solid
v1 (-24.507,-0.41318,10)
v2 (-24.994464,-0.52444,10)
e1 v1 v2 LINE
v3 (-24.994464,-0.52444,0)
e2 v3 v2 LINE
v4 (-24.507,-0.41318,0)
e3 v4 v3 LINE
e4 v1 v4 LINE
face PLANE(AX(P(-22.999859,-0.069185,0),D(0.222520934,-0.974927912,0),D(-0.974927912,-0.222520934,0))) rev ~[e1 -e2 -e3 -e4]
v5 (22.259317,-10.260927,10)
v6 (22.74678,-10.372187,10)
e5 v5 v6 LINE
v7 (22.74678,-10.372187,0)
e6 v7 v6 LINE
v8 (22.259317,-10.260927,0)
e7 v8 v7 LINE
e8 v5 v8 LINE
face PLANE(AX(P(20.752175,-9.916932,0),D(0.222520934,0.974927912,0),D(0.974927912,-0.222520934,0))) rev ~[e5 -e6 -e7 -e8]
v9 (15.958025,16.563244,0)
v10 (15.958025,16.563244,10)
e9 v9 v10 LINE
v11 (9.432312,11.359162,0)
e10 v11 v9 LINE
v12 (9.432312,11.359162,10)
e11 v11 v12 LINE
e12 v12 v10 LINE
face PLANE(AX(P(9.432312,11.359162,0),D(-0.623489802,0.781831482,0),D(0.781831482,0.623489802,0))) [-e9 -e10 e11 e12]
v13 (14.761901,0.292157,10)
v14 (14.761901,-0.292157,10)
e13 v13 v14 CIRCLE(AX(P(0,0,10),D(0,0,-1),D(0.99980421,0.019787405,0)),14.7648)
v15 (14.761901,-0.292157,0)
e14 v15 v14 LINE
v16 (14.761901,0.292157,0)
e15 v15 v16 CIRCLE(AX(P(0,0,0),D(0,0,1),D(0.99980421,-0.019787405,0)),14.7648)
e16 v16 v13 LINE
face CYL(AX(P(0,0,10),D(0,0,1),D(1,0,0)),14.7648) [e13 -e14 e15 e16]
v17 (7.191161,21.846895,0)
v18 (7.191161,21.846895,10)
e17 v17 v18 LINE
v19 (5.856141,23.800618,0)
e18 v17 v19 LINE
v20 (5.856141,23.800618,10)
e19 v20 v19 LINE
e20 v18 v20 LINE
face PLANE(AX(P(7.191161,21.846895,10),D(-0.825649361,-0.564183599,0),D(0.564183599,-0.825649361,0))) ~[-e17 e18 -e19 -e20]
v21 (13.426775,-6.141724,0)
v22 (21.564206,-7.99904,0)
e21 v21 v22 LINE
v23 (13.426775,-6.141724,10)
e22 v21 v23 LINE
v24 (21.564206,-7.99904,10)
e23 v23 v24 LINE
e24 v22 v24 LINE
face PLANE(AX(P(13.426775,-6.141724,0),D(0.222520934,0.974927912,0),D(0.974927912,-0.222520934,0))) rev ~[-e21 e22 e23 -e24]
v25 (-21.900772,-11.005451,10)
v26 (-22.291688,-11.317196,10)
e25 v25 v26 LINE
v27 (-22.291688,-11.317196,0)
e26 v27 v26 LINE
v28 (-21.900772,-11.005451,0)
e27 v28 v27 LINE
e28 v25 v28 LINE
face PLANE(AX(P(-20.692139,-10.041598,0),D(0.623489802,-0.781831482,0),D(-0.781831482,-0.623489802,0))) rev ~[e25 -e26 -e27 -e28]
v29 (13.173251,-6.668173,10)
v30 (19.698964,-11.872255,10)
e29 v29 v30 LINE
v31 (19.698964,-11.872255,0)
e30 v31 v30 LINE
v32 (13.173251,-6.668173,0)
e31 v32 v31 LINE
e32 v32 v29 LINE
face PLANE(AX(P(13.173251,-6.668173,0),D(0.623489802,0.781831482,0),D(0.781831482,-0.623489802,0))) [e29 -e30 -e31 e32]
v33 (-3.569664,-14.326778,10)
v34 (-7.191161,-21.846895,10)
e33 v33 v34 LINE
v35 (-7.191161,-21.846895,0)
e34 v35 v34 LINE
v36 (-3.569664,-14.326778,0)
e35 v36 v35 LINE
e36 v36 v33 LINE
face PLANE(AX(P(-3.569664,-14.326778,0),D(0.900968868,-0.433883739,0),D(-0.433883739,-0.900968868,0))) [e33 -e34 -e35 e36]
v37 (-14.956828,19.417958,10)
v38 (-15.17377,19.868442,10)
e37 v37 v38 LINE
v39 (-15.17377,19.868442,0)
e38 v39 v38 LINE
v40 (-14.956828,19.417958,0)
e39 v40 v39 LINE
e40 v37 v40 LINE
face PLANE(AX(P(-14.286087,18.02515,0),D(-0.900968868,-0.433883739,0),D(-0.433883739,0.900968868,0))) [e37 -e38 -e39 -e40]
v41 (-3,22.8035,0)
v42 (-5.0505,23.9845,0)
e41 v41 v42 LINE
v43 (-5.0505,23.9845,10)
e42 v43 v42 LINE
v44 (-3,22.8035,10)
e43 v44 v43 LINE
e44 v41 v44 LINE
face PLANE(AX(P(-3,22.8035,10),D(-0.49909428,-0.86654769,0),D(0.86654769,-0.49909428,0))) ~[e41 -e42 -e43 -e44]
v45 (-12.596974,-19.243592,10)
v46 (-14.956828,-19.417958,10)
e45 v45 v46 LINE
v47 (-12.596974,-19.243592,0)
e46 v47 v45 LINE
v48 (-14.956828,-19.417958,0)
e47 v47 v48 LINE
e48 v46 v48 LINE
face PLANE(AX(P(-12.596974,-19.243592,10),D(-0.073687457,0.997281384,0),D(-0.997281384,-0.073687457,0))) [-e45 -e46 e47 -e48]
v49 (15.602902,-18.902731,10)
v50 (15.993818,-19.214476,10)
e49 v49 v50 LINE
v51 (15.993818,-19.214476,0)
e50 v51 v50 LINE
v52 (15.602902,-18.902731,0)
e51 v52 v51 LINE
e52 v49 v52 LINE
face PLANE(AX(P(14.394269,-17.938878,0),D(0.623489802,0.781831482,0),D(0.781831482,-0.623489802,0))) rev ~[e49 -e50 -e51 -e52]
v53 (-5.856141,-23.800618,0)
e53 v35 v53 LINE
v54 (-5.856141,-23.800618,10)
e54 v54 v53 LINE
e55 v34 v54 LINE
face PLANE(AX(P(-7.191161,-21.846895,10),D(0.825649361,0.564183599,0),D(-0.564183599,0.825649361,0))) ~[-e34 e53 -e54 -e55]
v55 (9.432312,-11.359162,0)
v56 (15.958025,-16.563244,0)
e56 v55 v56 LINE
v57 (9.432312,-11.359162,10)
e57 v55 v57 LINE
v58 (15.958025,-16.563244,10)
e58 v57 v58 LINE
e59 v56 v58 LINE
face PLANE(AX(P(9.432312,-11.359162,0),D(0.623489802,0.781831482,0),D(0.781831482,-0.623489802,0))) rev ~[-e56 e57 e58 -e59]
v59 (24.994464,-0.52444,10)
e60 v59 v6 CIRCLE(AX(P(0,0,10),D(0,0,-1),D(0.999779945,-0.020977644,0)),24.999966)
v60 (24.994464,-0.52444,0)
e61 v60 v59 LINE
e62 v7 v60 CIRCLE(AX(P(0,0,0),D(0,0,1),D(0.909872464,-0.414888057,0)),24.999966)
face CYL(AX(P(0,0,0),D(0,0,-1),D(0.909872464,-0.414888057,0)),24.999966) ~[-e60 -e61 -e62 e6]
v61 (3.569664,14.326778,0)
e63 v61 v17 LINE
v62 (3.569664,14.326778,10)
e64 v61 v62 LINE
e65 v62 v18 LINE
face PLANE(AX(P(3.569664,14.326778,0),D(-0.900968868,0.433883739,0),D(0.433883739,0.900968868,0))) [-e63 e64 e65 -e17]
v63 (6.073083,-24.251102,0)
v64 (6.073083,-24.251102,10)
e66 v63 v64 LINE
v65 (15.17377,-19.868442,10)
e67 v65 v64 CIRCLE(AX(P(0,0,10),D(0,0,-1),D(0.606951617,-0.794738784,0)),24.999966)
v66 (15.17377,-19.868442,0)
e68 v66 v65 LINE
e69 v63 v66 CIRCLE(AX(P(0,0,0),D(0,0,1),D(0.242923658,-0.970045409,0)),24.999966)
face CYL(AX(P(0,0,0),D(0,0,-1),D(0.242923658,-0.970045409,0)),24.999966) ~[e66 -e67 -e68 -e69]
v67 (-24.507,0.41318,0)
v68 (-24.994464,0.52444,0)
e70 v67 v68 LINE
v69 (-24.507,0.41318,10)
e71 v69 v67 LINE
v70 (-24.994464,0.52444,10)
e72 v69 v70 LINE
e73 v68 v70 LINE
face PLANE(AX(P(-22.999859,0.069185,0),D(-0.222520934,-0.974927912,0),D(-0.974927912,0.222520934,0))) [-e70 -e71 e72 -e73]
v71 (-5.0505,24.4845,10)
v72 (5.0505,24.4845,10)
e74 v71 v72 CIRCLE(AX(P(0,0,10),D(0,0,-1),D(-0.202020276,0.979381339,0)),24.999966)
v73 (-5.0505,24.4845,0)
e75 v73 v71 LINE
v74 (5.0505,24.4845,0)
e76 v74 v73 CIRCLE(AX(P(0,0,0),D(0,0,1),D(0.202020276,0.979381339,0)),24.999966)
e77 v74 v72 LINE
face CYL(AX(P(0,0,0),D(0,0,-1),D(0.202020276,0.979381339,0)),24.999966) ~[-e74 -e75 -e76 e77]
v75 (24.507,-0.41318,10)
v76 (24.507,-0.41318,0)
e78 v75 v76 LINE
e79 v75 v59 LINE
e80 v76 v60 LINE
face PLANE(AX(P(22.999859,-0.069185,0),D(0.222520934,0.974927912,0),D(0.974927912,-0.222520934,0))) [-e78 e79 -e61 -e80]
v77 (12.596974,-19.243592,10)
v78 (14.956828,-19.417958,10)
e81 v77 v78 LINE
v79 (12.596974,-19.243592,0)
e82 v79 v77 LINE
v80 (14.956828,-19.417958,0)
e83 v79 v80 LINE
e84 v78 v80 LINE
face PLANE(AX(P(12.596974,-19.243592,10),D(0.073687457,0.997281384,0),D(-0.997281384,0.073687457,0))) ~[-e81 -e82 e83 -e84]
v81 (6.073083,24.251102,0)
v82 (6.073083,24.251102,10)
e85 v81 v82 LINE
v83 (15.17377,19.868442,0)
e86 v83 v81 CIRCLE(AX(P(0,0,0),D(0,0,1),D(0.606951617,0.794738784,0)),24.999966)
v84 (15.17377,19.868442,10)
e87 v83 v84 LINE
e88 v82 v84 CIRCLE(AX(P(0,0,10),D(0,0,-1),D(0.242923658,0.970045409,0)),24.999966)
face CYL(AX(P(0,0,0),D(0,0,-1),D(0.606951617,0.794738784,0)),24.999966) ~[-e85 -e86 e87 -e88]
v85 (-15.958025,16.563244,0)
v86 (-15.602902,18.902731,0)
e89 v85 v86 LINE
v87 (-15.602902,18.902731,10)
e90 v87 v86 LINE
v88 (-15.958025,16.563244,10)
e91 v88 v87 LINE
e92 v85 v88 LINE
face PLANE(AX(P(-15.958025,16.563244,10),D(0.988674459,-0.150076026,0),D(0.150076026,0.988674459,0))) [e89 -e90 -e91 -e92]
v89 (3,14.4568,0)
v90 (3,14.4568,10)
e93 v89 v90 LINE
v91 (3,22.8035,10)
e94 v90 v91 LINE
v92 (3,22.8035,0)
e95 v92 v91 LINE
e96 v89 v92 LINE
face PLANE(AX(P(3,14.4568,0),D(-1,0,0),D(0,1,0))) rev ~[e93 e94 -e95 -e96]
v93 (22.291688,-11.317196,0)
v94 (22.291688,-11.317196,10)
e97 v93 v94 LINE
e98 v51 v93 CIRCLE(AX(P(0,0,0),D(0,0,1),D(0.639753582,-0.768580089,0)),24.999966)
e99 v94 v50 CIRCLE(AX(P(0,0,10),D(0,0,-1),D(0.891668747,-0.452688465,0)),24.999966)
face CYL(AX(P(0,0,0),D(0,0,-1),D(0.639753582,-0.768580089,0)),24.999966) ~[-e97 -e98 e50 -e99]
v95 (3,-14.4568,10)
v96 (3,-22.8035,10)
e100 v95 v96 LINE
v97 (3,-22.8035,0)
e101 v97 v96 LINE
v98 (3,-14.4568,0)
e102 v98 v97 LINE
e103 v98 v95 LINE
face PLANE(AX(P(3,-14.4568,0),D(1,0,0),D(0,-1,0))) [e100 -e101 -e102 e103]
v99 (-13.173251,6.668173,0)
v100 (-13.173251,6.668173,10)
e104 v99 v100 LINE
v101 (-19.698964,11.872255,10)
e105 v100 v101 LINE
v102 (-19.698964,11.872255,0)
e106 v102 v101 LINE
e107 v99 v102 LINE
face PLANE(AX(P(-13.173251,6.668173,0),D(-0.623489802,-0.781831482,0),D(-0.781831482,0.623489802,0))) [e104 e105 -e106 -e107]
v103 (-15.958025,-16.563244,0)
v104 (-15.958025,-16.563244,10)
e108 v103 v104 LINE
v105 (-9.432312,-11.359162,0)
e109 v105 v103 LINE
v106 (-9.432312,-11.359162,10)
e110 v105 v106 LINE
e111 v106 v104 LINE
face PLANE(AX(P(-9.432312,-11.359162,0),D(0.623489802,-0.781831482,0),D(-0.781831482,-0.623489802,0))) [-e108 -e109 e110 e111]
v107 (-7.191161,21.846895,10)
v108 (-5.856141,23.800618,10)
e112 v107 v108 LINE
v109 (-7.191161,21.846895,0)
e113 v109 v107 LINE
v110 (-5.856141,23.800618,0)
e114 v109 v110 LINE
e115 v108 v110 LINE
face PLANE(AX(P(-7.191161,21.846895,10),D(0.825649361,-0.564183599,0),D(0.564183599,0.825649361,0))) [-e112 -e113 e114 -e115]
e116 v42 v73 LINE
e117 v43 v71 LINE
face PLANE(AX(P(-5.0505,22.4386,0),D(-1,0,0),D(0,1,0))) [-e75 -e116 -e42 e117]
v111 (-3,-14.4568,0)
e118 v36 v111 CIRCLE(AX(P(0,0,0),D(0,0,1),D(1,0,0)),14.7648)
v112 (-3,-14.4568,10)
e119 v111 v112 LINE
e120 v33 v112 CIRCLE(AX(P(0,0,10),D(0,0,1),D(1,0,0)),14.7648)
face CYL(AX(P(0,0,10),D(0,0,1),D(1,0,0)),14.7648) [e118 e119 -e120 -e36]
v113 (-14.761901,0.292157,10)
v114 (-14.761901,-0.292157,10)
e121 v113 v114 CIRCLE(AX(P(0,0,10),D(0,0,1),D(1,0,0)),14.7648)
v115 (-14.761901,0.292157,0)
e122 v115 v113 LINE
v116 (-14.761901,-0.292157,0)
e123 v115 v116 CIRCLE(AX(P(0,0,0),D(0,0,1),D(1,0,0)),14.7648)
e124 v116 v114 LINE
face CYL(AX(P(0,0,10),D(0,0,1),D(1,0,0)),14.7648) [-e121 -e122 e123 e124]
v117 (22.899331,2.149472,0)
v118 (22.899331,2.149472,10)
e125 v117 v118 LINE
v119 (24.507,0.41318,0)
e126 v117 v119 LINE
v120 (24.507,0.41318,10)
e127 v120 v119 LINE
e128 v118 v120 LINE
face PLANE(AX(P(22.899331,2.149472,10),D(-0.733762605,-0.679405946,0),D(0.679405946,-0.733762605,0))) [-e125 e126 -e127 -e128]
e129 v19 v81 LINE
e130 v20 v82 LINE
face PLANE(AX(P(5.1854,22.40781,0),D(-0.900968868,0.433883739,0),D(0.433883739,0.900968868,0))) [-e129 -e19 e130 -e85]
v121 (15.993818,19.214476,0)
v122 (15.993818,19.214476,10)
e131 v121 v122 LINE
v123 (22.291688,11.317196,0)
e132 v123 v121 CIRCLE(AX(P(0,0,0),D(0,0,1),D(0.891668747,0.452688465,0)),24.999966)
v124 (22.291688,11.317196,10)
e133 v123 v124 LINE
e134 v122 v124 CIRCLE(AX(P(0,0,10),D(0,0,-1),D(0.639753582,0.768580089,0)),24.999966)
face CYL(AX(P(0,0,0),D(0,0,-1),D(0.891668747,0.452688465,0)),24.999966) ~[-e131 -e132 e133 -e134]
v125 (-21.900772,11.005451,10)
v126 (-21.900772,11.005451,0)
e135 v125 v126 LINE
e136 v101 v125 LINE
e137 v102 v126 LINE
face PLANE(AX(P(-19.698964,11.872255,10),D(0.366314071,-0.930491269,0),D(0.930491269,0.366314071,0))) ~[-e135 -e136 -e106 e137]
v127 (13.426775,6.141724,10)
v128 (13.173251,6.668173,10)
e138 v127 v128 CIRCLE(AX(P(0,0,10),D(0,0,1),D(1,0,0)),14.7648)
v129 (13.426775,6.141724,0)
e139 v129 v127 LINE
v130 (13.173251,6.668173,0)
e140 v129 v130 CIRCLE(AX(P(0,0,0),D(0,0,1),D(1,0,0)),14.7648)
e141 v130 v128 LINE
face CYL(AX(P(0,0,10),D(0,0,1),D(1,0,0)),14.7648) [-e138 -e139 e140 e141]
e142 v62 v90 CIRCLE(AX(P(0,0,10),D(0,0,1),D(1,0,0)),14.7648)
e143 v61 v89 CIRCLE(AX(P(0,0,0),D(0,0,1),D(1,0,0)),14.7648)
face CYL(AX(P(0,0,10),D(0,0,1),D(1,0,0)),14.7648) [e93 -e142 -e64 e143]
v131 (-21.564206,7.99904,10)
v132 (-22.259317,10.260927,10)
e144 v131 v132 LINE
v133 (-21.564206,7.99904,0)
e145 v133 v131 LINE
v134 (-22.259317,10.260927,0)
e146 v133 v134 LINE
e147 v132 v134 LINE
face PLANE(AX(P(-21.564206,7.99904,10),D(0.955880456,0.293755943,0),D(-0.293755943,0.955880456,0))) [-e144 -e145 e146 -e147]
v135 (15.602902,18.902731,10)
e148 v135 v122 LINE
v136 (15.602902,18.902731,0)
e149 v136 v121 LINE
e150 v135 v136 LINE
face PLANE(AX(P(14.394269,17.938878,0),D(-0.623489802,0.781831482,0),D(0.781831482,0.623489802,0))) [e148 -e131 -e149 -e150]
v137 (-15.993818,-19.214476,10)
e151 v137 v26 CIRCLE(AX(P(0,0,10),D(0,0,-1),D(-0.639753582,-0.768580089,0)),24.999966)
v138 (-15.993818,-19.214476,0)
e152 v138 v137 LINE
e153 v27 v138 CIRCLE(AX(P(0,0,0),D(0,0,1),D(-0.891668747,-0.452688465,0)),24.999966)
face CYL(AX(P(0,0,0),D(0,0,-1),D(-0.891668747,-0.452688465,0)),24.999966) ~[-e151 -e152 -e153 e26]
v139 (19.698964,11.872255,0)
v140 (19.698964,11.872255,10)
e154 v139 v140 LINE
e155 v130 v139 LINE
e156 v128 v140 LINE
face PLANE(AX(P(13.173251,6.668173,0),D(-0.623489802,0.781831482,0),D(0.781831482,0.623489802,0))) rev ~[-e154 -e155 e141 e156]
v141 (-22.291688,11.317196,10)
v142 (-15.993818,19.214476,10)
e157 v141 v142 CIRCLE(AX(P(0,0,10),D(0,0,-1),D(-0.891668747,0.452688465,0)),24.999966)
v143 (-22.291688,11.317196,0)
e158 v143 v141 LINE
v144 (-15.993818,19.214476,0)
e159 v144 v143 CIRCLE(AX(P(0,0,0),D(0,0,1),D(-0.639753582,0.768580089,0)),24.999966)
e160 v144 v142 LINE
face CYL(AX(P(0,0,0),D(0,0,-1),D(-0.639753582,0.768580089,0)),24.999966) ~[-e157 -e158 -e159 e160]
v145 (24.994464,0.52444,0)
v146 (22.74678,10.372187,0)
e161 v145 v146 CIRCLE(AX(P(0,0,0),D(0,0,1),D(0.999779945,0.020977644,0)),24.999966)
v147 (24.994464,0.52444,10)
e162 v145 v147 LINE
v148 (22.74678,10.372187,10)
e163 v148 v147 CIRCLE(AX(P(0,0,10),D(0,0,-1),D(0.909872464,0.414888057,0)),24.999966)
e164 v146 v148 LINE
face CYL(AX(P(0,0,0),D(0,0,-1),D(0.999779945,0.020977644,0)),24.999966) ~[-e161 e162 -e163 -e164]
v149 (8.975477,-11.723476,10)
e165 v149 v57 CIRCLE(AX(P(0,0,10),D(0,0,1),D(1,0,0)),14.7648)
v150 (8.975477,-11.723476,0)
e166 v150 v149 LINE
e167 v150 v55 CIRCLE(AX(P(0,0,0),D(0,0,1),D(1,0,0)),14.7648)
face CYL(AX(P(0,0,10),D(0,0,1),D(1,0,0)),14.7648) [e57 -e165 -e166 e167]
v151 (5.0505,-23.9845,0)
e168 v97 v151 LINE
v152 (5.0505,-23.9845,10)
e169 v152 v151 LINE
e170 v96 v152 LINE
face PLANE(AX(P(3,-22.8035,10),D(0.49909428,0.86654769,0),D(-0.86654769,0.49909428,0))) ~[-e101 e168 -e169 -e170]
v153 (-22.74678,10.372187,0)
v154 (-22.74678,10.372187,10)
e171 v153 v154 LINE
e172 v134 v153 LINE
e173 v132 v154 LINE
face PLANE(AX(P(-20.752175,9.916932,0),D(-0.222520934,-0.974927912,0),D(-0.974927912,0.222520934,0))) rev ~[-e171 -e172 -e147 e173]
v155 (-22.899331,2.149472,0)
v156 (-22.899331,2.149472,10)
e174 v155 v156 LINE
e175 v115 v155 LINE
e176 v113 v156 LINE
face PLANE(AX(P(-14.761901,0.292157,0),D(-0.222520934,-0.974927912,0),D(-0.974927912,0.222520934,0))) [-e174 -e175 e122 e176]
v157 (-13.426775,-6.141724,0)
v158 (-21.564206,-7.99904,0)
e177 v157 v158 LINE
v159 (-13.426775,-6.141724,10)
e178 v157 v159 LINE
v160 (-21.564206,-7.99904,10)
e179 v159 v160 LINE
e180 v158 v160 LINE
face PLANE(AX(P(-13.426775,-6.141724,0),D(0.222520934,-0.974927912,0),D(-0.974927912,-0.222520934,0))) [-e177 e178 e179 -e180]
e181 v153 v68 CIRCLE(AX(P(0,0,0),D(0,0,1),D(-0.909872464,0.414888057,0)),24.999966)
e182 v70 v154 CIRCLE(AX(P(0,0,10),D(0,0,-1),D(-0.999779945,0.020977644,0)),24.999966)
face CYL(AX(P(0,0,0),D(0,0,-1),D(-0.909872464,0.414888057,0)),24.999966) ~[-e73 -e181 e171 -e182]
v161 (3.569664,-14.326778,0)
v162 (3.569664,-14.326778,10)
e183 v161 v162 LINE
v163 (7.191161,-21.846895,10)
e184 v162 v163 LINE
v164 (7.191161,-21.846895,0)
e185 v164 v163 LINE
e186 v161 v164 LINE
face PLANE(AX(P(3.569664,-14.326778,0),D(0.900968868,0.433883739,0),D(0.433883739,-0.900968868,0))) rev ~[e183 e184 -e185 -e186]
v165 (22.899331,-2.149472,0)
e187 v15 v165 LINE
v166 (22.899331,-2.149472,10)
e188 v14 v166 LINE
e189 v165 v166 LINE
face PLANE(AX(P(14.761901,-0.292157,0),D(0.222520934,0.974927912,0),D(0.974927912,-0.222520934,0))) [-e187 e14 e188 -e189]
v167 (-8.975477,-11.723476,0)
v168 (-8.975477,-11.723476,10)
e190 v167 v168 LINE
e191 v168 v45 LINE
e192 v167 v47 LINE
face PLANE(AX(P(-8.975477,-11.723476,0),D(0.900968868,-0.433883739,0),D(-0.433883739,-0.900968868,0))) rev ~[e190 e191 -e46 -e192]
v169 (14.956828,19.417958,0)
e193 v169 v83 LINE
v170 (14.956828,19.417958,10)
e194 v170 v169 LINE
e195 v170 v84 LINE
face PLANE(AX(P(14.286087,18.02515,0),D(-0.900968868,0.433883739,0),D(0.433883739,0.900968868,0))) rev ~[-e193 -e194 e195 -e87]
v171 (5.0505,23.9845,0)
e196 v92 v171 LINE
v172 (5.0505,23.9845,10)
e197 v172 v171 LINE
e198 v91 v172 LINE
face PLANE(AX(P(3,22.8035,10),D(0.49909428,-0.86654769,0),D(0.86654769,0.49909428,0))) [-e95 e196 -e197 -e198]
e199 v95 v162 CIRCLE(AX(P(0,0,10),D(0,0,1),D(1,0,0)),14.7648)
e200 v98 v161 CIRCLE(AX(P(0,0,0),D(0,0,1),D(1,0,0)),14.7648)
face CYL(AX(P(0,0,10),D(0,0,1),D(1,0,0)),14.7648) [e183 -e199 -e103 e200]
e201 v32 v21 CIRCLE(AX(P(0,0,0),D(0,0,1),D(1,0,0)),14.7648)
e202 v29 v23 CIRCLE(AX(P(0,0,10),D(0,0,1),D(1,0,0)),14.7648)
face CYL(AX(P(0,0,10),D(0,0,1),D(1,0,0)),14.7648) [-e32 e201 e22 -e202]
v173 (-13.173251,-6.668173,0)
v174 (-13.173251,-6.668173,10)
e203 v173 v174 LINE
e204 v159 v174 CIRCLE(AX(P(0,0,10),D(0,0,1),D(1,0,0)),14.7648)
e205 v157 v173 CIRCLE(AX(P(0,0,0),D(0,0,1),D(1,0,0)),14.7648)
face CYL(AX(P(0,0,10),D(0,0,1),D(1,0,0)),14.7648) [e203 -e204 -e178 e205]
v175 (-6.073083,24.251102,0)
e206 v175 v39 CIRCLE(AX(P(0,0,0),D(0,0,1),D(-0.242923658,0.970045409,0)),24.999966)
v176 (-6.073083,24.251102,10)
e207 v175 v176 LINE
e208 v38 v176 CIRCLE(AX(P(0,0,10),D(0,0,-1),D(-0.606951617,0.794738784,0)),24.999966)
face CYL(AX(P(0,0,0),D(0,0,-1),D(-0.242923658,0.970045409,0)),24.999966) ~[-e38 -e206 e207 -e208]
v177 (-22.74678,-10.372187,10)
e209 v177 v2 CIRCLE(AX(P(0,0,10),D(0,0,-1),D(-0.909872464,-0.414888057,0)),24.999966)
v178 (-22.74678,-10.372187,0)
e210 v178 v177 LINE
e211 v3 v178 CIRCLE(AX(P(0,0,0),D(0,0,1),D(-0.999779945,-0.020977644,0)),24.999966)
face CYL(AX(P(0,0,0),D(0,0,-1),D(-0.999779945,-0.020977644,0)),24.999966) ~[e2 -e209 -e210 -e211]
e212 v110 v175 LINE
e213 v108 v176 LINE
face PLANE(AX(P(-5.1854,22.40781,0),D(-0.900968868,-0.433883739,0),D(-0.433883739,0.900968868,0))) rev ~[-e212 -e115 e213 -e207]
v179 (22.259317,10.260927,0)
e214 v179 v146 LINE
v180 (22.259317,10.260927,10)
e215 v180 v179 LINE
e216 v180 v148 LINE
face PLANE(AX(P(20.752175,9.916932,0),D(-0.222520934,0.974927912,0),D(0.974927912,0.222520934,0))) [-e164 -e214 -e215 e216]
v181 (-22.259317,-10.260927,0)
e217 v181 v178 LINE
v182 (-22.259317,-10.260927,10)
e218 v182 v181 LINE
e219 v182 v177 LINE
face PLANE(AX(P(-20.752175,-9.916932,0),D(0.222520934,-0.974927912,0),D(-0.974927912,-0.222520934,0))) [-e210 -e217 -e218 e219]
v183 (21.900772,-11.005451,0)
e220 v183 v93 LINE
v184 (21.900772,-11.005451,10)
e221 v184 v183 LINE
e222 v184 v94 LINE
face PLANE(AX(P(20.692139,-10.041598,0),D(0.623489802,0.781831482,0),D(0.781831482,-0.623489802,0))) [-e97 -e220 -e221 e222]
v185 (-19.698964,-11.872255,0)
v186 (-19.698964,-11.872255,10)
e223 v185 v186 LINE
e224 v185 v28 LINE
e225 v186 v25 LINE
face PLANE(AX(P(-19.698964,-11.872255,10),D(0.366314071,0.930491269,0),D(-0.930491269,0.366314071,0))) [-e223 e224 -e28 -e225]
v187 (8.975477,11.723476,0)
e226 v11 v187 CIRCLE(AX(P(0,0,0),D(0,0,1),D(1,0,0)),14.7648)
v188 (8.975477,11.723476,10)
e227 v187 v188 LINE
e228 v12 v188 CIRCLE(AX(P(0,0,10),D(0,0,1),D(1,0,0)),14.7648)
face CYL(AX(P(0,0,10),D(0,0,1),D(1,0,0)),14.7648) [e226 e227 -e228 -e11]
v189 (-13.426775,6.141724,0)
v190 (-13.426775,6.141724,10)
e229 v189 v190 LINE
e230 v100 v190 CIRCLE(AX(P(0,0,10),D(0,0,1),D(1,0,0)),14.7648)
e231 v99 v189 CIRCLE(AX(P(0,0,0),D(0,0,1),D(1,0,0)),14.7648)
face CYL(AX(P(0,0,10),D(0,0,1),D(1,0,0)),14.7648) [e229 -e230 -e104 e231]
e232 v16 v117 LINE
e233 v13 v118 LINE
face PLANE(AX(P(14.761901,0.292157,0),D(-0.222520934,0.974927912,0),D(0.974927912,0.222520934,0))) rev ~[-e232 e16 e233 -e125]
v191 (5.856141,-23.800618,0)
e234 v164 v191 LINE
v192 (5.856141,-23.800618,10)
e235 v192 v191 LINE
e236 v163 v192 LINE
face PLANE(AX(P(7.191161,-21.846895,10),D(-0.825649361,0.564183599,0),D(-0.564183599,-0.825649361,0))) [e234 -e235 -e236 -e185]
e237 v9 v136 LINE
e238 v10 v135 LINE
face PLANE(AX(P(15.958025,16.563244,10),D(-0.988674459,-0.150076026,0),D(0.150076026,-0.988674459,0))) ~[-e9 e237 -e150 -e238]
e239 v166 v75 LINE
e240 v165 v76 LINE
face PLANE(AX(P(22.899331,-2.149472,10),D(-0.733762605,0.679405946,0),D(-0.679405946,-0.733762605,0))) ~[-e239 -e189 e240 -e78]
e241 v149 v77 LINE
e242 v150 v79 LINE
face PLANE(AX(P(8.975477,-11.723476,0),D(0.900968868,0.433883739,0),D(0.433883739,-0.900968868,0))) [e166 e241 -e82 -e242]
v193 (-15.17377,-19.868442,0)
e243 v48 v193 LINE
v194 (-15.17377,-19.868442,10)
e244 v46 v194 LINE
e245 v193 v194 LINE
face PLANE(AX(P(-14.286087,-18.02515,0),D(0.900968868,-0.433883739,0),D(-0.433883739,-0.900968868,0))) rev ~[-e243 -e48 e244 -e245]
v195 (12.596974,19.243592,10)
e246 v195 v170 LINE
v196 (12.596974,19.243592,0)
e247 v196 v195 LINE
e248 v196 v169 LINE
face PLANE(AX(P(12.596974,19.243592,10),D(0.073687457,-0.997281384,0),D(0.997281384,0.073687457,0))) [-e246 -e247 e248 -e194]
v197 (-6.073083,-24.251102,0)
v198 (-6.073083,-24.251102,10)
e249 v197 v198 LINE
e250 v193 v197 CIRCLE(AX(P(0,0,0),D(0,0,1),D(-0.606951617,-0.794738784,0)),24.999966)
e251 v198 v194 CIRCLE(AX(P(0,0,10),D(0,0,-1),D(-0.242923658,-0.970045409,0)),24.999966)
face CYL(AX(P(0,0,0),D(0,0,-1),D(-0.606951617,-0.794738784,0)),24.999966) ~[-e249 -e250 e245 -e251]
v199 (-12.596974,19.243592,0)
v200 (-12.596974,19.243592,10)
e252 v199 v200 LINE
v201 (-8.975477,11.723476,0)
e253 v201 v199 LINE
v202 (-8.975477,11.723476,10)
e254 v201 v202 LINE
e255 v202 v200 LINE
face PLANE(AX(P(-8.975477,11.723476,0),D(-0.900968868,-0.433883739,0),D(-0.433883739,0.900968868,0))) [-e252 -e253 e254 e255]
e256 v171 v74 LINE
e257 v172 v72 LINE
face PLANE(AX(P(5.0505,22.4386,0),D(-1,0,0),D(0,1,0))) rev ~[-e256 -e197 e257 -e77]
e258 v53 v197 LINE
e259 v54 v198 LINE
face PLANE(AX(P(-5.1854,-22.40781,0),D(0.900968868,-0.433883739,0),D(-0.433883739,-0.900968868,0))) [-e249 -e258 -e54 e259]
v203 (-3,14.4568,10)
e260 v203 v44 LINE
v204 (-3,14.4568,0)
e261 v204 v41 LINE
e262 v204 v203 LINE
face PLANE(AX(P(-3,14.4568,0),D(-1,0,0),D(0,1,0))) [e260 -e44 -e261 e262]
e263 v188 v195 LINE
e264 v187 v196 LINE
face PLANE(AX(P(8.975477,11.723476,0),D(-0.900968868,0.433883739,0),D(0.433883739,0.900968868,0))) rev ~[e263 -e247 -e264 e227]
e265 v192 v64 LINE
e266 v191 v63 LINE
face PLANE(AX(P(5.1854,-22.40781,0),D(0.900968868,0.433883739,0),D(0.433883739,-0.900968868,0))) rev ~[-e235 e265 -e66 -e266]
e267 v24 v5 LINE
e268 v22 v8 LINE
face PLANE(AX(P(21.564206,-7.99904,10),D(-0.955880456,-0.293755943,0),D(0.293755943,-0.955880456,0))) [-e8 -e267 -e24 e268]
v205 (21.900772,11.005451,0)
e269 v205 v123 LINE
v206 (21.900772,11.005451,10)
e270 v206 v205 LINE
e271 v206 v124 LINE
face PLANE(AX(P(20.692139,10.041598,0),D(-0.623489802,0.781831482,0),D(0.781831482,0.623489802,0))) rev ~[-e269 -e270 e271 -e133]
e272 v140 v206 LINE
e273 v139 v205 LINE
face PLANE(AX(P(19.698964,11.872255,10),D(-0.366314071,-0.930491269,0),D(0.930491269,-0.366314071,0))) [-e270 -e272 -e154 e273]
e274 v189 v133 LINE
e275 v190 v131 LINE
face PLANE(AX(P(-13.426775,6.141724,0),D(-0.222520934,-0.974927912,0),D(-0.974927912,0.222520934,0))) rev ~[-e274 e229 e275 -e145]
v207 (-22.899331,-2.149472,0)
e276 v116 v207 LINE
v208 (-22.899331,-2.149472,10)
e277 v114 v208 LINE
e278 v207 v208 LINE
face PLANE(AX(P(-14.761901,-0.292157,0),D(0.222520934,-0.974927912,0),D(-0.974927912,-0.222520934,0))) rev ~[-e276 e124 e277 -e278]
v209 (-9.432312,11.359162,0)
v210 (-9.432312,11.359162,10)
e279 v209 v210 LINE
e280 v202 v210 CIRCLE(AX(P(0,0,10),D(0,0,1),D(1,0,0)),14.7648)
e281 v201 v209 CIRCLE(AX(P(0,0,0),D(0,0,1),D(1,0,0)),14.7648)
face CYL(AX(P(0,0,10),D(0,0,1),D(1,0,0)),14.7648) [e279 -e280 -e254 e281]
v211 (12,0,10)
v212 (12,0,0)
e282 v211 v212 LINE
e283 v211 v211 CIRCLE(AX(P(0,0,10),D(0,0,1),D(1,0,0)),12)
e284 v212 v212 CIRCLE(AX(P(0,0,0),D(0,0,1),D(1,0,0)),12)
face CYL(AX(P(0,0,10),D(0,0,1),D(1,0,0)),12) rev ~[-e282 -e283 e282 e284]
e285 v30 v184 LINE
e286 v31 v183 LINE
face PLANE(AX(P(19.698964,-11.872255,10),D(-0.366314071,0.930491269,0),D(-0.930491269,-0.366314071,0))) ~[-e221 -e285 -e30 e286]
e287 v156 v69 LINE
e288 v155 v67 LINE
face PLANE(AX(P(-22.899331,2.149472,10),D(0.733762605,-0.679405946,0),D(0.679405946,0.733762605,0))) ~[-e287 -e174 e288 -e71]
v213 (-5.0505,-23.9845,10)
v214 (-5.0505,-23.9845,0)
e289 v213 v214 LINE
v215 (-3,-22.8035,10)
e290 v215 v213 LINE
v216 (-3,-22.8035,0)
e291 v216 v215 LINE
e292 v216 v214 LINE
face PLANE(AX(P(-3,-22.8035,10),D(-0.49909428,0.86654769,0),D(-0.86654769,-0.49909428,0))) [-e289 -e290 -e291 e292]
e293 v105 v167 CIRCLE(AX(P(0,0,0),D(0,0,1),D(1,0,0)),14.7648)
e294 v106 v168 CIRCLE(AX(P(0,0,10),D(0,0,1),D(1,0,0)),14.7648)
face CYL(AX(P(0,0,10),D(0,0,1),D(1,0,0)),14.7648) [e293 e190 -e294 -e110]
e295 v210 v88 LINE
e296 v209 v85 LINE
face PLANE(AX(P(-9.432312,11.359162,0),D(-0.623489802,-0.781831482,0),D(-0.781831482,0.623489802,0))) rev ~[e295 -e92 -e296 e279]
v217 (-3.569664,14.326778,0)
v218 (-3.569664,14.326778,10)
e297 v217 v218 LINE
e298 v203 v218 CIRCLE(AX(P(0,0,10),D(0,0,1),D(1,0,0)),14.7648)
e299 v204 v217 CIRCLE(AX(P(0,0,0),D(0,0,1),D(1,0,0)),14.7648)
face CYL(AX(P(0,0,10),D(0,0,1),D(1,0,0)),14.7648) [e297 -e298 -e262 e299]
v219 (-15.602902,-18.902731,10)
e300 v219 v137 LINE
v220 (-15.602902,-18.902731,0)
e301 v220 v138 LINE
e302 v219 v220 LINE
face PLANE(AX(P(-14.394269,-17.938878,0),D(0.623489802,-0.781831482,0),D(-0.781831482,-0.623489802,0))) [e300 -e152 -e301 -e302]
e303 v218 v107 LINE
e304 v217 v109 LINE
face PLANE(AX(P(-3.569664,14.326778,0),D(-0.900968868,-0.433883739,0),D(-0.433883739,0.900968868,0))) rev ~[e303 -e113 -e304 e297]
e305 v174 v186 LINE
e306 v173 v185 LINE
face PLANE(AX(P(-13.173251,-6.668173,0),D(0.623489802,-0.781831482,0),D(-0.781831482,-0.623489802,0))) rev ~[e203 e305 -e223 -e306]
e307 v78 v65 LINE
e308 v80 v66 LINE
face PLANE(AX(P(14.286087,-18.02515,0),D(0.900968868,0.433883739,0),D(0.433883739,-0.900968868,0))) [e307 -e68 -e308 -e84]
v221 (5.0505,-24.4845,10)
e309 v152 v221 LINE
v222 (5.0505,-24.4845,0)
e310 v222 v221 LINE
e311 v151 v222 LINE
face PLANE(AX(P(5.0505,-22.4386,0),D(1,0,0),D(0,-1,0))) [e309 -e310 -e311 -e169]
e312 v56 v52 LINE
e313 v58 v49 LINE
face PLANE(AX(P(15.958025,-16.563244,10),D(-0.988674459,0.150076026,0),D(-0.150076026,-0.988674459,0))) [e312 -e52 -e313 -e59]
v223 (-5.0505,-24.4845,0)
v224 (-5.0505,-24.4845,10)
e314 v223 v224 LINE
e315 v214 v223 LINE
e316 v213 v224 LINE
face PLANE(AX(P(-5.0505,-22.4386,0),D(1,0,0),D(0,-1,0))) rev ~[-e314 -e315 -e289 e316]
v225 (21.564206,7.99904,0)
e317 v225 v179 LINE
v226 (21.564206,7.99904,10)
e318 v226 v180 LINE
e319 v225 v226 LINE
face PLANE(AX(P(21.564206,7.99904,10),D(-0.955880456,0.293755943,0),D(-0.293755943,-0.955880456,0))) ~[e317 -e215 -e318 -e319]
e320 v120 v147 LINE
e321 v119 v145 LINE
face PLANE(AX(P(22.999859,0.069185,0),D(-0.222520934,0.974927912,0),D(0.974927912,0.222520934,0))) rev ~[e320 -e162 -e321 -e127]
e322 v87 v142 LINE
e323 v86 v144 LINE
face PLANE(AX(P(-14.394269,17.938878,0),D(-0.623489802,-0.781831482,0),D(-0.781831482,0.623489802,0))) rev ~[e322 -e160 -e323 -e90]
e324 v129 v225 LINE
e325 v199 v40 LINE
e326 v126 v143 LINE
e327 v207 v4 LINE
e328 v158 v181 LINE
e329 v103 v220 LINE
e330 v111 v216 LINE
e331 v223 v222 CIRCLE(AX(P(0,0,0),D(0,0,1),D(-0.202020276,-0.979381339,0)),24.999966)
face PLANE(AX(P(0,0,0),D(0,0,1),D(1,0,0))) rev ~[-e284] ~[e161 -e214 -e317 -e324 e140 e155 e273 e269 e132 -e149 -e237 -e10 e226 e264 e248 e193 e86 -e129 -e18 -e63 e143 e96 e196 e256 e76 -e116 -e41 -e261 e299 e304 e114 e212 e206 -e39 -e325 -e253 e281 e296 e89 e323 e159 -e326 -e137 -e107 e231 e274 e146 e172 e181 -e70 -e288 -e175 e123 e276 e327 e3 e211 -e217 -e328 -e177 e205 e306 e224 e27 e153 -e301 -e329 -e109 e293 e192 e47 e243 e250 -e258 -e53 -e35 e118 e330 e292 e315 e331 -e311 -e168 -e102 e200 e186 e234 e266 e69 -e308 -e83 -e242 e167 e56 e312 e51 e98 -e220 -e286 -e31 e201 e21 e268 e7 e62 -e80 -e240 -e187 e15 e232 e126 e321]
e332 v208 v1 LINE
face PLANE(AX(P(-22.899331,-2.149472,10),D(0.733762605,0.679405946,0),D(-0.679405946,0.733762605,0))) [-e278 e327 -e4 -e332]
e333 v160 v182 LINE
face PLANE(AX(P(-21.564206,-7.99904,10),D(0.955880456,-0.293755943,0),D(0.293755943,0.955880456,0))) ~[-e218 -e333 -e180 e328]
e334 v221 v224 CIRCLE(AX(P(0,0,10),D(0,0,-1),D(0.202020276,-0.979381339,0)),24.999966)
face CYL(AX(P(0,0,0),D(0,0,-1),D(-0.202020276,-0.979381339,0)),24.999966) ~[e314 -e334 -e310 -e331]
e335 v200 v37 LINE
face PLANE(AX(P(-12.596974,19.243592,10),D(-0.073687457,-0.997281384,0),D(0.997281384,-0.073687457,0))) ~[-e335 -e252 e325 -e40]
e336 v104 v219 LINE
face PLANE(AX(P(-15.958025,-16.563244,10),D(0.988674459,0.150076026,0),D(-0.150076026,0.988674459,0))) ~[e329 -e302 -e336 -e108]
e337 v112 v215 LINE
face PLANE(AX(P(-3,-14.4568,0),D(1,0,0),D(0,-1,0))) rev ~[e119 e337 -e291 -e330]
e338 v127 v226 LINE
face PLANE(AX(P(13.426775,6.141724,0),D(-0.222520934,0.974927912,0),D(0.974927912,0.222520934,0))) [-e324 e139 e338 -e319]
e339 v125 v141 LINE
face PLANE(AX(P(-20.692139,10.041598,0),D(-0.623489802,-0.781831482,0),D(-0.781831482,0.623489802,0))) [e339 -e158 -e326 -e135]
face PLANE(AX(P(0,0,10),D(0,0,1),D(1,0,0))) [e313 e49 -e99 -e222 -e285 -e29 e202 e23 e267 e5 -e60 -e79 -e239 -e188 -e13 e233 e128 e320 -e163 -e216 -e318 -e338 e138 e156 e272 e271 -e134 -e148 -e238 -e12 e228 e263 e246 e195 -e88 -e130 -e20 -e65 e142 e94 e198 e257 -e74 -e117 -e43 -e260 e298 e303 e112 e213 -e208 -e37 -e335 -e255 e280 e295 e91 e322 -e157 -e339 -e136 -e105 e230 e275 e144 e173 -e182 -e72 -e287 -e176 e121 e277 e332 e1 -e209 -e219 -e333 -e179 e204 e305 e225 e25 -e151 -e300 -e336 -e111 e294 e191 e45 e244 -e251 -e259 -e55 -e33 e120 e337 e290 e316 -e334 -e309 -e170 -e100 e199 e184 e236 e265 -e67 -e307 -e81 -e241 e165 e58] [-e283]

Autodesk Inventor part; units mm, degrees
ref_plane "YZ Plane" through (0, 0, 0) normal (1, 0, 0) x (0, 1, 0)
ref_plane "XZ Plane" through (0, 0, 0) normal (0, 1, 0) x (-1, 0, 0)
ref_plane "XY Plane" through (0, 0, 0) normal (0, 0, 1) x (1, 0, 0)
sketch "Sketch1" plane through (0, 0, 0) normal (0, 0, 1) x (1, 0, 0)
  arc A0 (5.0505, 24.4845) -> (-5.0505, 24.4845) centre (0, 0) ccw
  line L0 (0, 0) -> (0, 32.4048)
  line L1 (-3, 0) -> (-3, 22.8035)
  line L2 (-4.0404, 24.6713) -> (-4.0404, 32.6515)
  line L3 (3, 0) -> (3, 22.8035)
  line L4 (4.0404, 24.6713) -> (4.0404, 32.6515)
  arc A1 (-5, 14.1421) -> (5, 14.1421) centre (0, 0) ccw
  arc A2 (3, 14.4568) -> (-3, 14.4568) centre (0, 0) ccw
  arc A3 (-3, 22.8035) -> (-5.0505, 22.4386) centre (0, 0) ccw
  arc A4 (5.0505, 22.4386) -> (3, 22.8035) centre (0, 0) ccw
  line L5 (-5, 0) -> (-5, 14.1421)
  line L6 (-5.0505, 22.4386) -> (-5.0505, 24.4845)
  line L7 (5, 0) -> (5, 14.1421)
  line L8 (5.0505, 22.4386) -> (5.0505, 24.4845)
  dimension "d0" = 50
  dimension "d9" = 6
  dimension "d10" = 3
extrude "Extrusion1" add sketch "Sketch1" along normal blind 10
sketch "Sketch2" plane through (0, 0, 10) normal (0, 0, 1) x (1, 0, 0)
  arc A0 (5.0505, 22.4386) -> (3, 22.8035) centre (0, 0) ccw projected
  line L0 (3, 22.8035) -> (5.0505, 23.9845)
  line L1 (5.0505, 22.4386) -> (5.0505, 24.4845) projected
  dimension "d11" = 0.5
extrude "Extrusion2" cut sketch "Sketch2" against normal blind 10
mirror "Mirror1" about plane through (0, 0, 0) normal (1, 0, 0) of "Extrusion2"
pattern_circular "Circular Pattern1" count 14 over 360 about axis through (0, 0, -10) along (0, 0, 1) of "Extrusion1", "Extrusion2", "Mirror1"
sketch "Sketch3" plane through (0, 0, 10) normal (0, 0, 1) x (1, 0, 0)
  arc A0 (3, 14.4568) -> (-3, 14.4568) centre (0, 0) ccw projected
  circle A1 centre (0, 0) radius 14.7648
  circle A2 centre (0, 0) radius 12
  dimension "d17" = 24
extrude "Extrusion3" add sketch "Sketch3" against normal blind 10
equation "\"d10\" = 0.5 * d9"
equation "\"d3\" = 0.5 * d2"
equation "\"d5\" = 0.5 * d4"
equation "\"d2\" = 8"
equation "\"d4\" = 10"
properties part number "stator"
